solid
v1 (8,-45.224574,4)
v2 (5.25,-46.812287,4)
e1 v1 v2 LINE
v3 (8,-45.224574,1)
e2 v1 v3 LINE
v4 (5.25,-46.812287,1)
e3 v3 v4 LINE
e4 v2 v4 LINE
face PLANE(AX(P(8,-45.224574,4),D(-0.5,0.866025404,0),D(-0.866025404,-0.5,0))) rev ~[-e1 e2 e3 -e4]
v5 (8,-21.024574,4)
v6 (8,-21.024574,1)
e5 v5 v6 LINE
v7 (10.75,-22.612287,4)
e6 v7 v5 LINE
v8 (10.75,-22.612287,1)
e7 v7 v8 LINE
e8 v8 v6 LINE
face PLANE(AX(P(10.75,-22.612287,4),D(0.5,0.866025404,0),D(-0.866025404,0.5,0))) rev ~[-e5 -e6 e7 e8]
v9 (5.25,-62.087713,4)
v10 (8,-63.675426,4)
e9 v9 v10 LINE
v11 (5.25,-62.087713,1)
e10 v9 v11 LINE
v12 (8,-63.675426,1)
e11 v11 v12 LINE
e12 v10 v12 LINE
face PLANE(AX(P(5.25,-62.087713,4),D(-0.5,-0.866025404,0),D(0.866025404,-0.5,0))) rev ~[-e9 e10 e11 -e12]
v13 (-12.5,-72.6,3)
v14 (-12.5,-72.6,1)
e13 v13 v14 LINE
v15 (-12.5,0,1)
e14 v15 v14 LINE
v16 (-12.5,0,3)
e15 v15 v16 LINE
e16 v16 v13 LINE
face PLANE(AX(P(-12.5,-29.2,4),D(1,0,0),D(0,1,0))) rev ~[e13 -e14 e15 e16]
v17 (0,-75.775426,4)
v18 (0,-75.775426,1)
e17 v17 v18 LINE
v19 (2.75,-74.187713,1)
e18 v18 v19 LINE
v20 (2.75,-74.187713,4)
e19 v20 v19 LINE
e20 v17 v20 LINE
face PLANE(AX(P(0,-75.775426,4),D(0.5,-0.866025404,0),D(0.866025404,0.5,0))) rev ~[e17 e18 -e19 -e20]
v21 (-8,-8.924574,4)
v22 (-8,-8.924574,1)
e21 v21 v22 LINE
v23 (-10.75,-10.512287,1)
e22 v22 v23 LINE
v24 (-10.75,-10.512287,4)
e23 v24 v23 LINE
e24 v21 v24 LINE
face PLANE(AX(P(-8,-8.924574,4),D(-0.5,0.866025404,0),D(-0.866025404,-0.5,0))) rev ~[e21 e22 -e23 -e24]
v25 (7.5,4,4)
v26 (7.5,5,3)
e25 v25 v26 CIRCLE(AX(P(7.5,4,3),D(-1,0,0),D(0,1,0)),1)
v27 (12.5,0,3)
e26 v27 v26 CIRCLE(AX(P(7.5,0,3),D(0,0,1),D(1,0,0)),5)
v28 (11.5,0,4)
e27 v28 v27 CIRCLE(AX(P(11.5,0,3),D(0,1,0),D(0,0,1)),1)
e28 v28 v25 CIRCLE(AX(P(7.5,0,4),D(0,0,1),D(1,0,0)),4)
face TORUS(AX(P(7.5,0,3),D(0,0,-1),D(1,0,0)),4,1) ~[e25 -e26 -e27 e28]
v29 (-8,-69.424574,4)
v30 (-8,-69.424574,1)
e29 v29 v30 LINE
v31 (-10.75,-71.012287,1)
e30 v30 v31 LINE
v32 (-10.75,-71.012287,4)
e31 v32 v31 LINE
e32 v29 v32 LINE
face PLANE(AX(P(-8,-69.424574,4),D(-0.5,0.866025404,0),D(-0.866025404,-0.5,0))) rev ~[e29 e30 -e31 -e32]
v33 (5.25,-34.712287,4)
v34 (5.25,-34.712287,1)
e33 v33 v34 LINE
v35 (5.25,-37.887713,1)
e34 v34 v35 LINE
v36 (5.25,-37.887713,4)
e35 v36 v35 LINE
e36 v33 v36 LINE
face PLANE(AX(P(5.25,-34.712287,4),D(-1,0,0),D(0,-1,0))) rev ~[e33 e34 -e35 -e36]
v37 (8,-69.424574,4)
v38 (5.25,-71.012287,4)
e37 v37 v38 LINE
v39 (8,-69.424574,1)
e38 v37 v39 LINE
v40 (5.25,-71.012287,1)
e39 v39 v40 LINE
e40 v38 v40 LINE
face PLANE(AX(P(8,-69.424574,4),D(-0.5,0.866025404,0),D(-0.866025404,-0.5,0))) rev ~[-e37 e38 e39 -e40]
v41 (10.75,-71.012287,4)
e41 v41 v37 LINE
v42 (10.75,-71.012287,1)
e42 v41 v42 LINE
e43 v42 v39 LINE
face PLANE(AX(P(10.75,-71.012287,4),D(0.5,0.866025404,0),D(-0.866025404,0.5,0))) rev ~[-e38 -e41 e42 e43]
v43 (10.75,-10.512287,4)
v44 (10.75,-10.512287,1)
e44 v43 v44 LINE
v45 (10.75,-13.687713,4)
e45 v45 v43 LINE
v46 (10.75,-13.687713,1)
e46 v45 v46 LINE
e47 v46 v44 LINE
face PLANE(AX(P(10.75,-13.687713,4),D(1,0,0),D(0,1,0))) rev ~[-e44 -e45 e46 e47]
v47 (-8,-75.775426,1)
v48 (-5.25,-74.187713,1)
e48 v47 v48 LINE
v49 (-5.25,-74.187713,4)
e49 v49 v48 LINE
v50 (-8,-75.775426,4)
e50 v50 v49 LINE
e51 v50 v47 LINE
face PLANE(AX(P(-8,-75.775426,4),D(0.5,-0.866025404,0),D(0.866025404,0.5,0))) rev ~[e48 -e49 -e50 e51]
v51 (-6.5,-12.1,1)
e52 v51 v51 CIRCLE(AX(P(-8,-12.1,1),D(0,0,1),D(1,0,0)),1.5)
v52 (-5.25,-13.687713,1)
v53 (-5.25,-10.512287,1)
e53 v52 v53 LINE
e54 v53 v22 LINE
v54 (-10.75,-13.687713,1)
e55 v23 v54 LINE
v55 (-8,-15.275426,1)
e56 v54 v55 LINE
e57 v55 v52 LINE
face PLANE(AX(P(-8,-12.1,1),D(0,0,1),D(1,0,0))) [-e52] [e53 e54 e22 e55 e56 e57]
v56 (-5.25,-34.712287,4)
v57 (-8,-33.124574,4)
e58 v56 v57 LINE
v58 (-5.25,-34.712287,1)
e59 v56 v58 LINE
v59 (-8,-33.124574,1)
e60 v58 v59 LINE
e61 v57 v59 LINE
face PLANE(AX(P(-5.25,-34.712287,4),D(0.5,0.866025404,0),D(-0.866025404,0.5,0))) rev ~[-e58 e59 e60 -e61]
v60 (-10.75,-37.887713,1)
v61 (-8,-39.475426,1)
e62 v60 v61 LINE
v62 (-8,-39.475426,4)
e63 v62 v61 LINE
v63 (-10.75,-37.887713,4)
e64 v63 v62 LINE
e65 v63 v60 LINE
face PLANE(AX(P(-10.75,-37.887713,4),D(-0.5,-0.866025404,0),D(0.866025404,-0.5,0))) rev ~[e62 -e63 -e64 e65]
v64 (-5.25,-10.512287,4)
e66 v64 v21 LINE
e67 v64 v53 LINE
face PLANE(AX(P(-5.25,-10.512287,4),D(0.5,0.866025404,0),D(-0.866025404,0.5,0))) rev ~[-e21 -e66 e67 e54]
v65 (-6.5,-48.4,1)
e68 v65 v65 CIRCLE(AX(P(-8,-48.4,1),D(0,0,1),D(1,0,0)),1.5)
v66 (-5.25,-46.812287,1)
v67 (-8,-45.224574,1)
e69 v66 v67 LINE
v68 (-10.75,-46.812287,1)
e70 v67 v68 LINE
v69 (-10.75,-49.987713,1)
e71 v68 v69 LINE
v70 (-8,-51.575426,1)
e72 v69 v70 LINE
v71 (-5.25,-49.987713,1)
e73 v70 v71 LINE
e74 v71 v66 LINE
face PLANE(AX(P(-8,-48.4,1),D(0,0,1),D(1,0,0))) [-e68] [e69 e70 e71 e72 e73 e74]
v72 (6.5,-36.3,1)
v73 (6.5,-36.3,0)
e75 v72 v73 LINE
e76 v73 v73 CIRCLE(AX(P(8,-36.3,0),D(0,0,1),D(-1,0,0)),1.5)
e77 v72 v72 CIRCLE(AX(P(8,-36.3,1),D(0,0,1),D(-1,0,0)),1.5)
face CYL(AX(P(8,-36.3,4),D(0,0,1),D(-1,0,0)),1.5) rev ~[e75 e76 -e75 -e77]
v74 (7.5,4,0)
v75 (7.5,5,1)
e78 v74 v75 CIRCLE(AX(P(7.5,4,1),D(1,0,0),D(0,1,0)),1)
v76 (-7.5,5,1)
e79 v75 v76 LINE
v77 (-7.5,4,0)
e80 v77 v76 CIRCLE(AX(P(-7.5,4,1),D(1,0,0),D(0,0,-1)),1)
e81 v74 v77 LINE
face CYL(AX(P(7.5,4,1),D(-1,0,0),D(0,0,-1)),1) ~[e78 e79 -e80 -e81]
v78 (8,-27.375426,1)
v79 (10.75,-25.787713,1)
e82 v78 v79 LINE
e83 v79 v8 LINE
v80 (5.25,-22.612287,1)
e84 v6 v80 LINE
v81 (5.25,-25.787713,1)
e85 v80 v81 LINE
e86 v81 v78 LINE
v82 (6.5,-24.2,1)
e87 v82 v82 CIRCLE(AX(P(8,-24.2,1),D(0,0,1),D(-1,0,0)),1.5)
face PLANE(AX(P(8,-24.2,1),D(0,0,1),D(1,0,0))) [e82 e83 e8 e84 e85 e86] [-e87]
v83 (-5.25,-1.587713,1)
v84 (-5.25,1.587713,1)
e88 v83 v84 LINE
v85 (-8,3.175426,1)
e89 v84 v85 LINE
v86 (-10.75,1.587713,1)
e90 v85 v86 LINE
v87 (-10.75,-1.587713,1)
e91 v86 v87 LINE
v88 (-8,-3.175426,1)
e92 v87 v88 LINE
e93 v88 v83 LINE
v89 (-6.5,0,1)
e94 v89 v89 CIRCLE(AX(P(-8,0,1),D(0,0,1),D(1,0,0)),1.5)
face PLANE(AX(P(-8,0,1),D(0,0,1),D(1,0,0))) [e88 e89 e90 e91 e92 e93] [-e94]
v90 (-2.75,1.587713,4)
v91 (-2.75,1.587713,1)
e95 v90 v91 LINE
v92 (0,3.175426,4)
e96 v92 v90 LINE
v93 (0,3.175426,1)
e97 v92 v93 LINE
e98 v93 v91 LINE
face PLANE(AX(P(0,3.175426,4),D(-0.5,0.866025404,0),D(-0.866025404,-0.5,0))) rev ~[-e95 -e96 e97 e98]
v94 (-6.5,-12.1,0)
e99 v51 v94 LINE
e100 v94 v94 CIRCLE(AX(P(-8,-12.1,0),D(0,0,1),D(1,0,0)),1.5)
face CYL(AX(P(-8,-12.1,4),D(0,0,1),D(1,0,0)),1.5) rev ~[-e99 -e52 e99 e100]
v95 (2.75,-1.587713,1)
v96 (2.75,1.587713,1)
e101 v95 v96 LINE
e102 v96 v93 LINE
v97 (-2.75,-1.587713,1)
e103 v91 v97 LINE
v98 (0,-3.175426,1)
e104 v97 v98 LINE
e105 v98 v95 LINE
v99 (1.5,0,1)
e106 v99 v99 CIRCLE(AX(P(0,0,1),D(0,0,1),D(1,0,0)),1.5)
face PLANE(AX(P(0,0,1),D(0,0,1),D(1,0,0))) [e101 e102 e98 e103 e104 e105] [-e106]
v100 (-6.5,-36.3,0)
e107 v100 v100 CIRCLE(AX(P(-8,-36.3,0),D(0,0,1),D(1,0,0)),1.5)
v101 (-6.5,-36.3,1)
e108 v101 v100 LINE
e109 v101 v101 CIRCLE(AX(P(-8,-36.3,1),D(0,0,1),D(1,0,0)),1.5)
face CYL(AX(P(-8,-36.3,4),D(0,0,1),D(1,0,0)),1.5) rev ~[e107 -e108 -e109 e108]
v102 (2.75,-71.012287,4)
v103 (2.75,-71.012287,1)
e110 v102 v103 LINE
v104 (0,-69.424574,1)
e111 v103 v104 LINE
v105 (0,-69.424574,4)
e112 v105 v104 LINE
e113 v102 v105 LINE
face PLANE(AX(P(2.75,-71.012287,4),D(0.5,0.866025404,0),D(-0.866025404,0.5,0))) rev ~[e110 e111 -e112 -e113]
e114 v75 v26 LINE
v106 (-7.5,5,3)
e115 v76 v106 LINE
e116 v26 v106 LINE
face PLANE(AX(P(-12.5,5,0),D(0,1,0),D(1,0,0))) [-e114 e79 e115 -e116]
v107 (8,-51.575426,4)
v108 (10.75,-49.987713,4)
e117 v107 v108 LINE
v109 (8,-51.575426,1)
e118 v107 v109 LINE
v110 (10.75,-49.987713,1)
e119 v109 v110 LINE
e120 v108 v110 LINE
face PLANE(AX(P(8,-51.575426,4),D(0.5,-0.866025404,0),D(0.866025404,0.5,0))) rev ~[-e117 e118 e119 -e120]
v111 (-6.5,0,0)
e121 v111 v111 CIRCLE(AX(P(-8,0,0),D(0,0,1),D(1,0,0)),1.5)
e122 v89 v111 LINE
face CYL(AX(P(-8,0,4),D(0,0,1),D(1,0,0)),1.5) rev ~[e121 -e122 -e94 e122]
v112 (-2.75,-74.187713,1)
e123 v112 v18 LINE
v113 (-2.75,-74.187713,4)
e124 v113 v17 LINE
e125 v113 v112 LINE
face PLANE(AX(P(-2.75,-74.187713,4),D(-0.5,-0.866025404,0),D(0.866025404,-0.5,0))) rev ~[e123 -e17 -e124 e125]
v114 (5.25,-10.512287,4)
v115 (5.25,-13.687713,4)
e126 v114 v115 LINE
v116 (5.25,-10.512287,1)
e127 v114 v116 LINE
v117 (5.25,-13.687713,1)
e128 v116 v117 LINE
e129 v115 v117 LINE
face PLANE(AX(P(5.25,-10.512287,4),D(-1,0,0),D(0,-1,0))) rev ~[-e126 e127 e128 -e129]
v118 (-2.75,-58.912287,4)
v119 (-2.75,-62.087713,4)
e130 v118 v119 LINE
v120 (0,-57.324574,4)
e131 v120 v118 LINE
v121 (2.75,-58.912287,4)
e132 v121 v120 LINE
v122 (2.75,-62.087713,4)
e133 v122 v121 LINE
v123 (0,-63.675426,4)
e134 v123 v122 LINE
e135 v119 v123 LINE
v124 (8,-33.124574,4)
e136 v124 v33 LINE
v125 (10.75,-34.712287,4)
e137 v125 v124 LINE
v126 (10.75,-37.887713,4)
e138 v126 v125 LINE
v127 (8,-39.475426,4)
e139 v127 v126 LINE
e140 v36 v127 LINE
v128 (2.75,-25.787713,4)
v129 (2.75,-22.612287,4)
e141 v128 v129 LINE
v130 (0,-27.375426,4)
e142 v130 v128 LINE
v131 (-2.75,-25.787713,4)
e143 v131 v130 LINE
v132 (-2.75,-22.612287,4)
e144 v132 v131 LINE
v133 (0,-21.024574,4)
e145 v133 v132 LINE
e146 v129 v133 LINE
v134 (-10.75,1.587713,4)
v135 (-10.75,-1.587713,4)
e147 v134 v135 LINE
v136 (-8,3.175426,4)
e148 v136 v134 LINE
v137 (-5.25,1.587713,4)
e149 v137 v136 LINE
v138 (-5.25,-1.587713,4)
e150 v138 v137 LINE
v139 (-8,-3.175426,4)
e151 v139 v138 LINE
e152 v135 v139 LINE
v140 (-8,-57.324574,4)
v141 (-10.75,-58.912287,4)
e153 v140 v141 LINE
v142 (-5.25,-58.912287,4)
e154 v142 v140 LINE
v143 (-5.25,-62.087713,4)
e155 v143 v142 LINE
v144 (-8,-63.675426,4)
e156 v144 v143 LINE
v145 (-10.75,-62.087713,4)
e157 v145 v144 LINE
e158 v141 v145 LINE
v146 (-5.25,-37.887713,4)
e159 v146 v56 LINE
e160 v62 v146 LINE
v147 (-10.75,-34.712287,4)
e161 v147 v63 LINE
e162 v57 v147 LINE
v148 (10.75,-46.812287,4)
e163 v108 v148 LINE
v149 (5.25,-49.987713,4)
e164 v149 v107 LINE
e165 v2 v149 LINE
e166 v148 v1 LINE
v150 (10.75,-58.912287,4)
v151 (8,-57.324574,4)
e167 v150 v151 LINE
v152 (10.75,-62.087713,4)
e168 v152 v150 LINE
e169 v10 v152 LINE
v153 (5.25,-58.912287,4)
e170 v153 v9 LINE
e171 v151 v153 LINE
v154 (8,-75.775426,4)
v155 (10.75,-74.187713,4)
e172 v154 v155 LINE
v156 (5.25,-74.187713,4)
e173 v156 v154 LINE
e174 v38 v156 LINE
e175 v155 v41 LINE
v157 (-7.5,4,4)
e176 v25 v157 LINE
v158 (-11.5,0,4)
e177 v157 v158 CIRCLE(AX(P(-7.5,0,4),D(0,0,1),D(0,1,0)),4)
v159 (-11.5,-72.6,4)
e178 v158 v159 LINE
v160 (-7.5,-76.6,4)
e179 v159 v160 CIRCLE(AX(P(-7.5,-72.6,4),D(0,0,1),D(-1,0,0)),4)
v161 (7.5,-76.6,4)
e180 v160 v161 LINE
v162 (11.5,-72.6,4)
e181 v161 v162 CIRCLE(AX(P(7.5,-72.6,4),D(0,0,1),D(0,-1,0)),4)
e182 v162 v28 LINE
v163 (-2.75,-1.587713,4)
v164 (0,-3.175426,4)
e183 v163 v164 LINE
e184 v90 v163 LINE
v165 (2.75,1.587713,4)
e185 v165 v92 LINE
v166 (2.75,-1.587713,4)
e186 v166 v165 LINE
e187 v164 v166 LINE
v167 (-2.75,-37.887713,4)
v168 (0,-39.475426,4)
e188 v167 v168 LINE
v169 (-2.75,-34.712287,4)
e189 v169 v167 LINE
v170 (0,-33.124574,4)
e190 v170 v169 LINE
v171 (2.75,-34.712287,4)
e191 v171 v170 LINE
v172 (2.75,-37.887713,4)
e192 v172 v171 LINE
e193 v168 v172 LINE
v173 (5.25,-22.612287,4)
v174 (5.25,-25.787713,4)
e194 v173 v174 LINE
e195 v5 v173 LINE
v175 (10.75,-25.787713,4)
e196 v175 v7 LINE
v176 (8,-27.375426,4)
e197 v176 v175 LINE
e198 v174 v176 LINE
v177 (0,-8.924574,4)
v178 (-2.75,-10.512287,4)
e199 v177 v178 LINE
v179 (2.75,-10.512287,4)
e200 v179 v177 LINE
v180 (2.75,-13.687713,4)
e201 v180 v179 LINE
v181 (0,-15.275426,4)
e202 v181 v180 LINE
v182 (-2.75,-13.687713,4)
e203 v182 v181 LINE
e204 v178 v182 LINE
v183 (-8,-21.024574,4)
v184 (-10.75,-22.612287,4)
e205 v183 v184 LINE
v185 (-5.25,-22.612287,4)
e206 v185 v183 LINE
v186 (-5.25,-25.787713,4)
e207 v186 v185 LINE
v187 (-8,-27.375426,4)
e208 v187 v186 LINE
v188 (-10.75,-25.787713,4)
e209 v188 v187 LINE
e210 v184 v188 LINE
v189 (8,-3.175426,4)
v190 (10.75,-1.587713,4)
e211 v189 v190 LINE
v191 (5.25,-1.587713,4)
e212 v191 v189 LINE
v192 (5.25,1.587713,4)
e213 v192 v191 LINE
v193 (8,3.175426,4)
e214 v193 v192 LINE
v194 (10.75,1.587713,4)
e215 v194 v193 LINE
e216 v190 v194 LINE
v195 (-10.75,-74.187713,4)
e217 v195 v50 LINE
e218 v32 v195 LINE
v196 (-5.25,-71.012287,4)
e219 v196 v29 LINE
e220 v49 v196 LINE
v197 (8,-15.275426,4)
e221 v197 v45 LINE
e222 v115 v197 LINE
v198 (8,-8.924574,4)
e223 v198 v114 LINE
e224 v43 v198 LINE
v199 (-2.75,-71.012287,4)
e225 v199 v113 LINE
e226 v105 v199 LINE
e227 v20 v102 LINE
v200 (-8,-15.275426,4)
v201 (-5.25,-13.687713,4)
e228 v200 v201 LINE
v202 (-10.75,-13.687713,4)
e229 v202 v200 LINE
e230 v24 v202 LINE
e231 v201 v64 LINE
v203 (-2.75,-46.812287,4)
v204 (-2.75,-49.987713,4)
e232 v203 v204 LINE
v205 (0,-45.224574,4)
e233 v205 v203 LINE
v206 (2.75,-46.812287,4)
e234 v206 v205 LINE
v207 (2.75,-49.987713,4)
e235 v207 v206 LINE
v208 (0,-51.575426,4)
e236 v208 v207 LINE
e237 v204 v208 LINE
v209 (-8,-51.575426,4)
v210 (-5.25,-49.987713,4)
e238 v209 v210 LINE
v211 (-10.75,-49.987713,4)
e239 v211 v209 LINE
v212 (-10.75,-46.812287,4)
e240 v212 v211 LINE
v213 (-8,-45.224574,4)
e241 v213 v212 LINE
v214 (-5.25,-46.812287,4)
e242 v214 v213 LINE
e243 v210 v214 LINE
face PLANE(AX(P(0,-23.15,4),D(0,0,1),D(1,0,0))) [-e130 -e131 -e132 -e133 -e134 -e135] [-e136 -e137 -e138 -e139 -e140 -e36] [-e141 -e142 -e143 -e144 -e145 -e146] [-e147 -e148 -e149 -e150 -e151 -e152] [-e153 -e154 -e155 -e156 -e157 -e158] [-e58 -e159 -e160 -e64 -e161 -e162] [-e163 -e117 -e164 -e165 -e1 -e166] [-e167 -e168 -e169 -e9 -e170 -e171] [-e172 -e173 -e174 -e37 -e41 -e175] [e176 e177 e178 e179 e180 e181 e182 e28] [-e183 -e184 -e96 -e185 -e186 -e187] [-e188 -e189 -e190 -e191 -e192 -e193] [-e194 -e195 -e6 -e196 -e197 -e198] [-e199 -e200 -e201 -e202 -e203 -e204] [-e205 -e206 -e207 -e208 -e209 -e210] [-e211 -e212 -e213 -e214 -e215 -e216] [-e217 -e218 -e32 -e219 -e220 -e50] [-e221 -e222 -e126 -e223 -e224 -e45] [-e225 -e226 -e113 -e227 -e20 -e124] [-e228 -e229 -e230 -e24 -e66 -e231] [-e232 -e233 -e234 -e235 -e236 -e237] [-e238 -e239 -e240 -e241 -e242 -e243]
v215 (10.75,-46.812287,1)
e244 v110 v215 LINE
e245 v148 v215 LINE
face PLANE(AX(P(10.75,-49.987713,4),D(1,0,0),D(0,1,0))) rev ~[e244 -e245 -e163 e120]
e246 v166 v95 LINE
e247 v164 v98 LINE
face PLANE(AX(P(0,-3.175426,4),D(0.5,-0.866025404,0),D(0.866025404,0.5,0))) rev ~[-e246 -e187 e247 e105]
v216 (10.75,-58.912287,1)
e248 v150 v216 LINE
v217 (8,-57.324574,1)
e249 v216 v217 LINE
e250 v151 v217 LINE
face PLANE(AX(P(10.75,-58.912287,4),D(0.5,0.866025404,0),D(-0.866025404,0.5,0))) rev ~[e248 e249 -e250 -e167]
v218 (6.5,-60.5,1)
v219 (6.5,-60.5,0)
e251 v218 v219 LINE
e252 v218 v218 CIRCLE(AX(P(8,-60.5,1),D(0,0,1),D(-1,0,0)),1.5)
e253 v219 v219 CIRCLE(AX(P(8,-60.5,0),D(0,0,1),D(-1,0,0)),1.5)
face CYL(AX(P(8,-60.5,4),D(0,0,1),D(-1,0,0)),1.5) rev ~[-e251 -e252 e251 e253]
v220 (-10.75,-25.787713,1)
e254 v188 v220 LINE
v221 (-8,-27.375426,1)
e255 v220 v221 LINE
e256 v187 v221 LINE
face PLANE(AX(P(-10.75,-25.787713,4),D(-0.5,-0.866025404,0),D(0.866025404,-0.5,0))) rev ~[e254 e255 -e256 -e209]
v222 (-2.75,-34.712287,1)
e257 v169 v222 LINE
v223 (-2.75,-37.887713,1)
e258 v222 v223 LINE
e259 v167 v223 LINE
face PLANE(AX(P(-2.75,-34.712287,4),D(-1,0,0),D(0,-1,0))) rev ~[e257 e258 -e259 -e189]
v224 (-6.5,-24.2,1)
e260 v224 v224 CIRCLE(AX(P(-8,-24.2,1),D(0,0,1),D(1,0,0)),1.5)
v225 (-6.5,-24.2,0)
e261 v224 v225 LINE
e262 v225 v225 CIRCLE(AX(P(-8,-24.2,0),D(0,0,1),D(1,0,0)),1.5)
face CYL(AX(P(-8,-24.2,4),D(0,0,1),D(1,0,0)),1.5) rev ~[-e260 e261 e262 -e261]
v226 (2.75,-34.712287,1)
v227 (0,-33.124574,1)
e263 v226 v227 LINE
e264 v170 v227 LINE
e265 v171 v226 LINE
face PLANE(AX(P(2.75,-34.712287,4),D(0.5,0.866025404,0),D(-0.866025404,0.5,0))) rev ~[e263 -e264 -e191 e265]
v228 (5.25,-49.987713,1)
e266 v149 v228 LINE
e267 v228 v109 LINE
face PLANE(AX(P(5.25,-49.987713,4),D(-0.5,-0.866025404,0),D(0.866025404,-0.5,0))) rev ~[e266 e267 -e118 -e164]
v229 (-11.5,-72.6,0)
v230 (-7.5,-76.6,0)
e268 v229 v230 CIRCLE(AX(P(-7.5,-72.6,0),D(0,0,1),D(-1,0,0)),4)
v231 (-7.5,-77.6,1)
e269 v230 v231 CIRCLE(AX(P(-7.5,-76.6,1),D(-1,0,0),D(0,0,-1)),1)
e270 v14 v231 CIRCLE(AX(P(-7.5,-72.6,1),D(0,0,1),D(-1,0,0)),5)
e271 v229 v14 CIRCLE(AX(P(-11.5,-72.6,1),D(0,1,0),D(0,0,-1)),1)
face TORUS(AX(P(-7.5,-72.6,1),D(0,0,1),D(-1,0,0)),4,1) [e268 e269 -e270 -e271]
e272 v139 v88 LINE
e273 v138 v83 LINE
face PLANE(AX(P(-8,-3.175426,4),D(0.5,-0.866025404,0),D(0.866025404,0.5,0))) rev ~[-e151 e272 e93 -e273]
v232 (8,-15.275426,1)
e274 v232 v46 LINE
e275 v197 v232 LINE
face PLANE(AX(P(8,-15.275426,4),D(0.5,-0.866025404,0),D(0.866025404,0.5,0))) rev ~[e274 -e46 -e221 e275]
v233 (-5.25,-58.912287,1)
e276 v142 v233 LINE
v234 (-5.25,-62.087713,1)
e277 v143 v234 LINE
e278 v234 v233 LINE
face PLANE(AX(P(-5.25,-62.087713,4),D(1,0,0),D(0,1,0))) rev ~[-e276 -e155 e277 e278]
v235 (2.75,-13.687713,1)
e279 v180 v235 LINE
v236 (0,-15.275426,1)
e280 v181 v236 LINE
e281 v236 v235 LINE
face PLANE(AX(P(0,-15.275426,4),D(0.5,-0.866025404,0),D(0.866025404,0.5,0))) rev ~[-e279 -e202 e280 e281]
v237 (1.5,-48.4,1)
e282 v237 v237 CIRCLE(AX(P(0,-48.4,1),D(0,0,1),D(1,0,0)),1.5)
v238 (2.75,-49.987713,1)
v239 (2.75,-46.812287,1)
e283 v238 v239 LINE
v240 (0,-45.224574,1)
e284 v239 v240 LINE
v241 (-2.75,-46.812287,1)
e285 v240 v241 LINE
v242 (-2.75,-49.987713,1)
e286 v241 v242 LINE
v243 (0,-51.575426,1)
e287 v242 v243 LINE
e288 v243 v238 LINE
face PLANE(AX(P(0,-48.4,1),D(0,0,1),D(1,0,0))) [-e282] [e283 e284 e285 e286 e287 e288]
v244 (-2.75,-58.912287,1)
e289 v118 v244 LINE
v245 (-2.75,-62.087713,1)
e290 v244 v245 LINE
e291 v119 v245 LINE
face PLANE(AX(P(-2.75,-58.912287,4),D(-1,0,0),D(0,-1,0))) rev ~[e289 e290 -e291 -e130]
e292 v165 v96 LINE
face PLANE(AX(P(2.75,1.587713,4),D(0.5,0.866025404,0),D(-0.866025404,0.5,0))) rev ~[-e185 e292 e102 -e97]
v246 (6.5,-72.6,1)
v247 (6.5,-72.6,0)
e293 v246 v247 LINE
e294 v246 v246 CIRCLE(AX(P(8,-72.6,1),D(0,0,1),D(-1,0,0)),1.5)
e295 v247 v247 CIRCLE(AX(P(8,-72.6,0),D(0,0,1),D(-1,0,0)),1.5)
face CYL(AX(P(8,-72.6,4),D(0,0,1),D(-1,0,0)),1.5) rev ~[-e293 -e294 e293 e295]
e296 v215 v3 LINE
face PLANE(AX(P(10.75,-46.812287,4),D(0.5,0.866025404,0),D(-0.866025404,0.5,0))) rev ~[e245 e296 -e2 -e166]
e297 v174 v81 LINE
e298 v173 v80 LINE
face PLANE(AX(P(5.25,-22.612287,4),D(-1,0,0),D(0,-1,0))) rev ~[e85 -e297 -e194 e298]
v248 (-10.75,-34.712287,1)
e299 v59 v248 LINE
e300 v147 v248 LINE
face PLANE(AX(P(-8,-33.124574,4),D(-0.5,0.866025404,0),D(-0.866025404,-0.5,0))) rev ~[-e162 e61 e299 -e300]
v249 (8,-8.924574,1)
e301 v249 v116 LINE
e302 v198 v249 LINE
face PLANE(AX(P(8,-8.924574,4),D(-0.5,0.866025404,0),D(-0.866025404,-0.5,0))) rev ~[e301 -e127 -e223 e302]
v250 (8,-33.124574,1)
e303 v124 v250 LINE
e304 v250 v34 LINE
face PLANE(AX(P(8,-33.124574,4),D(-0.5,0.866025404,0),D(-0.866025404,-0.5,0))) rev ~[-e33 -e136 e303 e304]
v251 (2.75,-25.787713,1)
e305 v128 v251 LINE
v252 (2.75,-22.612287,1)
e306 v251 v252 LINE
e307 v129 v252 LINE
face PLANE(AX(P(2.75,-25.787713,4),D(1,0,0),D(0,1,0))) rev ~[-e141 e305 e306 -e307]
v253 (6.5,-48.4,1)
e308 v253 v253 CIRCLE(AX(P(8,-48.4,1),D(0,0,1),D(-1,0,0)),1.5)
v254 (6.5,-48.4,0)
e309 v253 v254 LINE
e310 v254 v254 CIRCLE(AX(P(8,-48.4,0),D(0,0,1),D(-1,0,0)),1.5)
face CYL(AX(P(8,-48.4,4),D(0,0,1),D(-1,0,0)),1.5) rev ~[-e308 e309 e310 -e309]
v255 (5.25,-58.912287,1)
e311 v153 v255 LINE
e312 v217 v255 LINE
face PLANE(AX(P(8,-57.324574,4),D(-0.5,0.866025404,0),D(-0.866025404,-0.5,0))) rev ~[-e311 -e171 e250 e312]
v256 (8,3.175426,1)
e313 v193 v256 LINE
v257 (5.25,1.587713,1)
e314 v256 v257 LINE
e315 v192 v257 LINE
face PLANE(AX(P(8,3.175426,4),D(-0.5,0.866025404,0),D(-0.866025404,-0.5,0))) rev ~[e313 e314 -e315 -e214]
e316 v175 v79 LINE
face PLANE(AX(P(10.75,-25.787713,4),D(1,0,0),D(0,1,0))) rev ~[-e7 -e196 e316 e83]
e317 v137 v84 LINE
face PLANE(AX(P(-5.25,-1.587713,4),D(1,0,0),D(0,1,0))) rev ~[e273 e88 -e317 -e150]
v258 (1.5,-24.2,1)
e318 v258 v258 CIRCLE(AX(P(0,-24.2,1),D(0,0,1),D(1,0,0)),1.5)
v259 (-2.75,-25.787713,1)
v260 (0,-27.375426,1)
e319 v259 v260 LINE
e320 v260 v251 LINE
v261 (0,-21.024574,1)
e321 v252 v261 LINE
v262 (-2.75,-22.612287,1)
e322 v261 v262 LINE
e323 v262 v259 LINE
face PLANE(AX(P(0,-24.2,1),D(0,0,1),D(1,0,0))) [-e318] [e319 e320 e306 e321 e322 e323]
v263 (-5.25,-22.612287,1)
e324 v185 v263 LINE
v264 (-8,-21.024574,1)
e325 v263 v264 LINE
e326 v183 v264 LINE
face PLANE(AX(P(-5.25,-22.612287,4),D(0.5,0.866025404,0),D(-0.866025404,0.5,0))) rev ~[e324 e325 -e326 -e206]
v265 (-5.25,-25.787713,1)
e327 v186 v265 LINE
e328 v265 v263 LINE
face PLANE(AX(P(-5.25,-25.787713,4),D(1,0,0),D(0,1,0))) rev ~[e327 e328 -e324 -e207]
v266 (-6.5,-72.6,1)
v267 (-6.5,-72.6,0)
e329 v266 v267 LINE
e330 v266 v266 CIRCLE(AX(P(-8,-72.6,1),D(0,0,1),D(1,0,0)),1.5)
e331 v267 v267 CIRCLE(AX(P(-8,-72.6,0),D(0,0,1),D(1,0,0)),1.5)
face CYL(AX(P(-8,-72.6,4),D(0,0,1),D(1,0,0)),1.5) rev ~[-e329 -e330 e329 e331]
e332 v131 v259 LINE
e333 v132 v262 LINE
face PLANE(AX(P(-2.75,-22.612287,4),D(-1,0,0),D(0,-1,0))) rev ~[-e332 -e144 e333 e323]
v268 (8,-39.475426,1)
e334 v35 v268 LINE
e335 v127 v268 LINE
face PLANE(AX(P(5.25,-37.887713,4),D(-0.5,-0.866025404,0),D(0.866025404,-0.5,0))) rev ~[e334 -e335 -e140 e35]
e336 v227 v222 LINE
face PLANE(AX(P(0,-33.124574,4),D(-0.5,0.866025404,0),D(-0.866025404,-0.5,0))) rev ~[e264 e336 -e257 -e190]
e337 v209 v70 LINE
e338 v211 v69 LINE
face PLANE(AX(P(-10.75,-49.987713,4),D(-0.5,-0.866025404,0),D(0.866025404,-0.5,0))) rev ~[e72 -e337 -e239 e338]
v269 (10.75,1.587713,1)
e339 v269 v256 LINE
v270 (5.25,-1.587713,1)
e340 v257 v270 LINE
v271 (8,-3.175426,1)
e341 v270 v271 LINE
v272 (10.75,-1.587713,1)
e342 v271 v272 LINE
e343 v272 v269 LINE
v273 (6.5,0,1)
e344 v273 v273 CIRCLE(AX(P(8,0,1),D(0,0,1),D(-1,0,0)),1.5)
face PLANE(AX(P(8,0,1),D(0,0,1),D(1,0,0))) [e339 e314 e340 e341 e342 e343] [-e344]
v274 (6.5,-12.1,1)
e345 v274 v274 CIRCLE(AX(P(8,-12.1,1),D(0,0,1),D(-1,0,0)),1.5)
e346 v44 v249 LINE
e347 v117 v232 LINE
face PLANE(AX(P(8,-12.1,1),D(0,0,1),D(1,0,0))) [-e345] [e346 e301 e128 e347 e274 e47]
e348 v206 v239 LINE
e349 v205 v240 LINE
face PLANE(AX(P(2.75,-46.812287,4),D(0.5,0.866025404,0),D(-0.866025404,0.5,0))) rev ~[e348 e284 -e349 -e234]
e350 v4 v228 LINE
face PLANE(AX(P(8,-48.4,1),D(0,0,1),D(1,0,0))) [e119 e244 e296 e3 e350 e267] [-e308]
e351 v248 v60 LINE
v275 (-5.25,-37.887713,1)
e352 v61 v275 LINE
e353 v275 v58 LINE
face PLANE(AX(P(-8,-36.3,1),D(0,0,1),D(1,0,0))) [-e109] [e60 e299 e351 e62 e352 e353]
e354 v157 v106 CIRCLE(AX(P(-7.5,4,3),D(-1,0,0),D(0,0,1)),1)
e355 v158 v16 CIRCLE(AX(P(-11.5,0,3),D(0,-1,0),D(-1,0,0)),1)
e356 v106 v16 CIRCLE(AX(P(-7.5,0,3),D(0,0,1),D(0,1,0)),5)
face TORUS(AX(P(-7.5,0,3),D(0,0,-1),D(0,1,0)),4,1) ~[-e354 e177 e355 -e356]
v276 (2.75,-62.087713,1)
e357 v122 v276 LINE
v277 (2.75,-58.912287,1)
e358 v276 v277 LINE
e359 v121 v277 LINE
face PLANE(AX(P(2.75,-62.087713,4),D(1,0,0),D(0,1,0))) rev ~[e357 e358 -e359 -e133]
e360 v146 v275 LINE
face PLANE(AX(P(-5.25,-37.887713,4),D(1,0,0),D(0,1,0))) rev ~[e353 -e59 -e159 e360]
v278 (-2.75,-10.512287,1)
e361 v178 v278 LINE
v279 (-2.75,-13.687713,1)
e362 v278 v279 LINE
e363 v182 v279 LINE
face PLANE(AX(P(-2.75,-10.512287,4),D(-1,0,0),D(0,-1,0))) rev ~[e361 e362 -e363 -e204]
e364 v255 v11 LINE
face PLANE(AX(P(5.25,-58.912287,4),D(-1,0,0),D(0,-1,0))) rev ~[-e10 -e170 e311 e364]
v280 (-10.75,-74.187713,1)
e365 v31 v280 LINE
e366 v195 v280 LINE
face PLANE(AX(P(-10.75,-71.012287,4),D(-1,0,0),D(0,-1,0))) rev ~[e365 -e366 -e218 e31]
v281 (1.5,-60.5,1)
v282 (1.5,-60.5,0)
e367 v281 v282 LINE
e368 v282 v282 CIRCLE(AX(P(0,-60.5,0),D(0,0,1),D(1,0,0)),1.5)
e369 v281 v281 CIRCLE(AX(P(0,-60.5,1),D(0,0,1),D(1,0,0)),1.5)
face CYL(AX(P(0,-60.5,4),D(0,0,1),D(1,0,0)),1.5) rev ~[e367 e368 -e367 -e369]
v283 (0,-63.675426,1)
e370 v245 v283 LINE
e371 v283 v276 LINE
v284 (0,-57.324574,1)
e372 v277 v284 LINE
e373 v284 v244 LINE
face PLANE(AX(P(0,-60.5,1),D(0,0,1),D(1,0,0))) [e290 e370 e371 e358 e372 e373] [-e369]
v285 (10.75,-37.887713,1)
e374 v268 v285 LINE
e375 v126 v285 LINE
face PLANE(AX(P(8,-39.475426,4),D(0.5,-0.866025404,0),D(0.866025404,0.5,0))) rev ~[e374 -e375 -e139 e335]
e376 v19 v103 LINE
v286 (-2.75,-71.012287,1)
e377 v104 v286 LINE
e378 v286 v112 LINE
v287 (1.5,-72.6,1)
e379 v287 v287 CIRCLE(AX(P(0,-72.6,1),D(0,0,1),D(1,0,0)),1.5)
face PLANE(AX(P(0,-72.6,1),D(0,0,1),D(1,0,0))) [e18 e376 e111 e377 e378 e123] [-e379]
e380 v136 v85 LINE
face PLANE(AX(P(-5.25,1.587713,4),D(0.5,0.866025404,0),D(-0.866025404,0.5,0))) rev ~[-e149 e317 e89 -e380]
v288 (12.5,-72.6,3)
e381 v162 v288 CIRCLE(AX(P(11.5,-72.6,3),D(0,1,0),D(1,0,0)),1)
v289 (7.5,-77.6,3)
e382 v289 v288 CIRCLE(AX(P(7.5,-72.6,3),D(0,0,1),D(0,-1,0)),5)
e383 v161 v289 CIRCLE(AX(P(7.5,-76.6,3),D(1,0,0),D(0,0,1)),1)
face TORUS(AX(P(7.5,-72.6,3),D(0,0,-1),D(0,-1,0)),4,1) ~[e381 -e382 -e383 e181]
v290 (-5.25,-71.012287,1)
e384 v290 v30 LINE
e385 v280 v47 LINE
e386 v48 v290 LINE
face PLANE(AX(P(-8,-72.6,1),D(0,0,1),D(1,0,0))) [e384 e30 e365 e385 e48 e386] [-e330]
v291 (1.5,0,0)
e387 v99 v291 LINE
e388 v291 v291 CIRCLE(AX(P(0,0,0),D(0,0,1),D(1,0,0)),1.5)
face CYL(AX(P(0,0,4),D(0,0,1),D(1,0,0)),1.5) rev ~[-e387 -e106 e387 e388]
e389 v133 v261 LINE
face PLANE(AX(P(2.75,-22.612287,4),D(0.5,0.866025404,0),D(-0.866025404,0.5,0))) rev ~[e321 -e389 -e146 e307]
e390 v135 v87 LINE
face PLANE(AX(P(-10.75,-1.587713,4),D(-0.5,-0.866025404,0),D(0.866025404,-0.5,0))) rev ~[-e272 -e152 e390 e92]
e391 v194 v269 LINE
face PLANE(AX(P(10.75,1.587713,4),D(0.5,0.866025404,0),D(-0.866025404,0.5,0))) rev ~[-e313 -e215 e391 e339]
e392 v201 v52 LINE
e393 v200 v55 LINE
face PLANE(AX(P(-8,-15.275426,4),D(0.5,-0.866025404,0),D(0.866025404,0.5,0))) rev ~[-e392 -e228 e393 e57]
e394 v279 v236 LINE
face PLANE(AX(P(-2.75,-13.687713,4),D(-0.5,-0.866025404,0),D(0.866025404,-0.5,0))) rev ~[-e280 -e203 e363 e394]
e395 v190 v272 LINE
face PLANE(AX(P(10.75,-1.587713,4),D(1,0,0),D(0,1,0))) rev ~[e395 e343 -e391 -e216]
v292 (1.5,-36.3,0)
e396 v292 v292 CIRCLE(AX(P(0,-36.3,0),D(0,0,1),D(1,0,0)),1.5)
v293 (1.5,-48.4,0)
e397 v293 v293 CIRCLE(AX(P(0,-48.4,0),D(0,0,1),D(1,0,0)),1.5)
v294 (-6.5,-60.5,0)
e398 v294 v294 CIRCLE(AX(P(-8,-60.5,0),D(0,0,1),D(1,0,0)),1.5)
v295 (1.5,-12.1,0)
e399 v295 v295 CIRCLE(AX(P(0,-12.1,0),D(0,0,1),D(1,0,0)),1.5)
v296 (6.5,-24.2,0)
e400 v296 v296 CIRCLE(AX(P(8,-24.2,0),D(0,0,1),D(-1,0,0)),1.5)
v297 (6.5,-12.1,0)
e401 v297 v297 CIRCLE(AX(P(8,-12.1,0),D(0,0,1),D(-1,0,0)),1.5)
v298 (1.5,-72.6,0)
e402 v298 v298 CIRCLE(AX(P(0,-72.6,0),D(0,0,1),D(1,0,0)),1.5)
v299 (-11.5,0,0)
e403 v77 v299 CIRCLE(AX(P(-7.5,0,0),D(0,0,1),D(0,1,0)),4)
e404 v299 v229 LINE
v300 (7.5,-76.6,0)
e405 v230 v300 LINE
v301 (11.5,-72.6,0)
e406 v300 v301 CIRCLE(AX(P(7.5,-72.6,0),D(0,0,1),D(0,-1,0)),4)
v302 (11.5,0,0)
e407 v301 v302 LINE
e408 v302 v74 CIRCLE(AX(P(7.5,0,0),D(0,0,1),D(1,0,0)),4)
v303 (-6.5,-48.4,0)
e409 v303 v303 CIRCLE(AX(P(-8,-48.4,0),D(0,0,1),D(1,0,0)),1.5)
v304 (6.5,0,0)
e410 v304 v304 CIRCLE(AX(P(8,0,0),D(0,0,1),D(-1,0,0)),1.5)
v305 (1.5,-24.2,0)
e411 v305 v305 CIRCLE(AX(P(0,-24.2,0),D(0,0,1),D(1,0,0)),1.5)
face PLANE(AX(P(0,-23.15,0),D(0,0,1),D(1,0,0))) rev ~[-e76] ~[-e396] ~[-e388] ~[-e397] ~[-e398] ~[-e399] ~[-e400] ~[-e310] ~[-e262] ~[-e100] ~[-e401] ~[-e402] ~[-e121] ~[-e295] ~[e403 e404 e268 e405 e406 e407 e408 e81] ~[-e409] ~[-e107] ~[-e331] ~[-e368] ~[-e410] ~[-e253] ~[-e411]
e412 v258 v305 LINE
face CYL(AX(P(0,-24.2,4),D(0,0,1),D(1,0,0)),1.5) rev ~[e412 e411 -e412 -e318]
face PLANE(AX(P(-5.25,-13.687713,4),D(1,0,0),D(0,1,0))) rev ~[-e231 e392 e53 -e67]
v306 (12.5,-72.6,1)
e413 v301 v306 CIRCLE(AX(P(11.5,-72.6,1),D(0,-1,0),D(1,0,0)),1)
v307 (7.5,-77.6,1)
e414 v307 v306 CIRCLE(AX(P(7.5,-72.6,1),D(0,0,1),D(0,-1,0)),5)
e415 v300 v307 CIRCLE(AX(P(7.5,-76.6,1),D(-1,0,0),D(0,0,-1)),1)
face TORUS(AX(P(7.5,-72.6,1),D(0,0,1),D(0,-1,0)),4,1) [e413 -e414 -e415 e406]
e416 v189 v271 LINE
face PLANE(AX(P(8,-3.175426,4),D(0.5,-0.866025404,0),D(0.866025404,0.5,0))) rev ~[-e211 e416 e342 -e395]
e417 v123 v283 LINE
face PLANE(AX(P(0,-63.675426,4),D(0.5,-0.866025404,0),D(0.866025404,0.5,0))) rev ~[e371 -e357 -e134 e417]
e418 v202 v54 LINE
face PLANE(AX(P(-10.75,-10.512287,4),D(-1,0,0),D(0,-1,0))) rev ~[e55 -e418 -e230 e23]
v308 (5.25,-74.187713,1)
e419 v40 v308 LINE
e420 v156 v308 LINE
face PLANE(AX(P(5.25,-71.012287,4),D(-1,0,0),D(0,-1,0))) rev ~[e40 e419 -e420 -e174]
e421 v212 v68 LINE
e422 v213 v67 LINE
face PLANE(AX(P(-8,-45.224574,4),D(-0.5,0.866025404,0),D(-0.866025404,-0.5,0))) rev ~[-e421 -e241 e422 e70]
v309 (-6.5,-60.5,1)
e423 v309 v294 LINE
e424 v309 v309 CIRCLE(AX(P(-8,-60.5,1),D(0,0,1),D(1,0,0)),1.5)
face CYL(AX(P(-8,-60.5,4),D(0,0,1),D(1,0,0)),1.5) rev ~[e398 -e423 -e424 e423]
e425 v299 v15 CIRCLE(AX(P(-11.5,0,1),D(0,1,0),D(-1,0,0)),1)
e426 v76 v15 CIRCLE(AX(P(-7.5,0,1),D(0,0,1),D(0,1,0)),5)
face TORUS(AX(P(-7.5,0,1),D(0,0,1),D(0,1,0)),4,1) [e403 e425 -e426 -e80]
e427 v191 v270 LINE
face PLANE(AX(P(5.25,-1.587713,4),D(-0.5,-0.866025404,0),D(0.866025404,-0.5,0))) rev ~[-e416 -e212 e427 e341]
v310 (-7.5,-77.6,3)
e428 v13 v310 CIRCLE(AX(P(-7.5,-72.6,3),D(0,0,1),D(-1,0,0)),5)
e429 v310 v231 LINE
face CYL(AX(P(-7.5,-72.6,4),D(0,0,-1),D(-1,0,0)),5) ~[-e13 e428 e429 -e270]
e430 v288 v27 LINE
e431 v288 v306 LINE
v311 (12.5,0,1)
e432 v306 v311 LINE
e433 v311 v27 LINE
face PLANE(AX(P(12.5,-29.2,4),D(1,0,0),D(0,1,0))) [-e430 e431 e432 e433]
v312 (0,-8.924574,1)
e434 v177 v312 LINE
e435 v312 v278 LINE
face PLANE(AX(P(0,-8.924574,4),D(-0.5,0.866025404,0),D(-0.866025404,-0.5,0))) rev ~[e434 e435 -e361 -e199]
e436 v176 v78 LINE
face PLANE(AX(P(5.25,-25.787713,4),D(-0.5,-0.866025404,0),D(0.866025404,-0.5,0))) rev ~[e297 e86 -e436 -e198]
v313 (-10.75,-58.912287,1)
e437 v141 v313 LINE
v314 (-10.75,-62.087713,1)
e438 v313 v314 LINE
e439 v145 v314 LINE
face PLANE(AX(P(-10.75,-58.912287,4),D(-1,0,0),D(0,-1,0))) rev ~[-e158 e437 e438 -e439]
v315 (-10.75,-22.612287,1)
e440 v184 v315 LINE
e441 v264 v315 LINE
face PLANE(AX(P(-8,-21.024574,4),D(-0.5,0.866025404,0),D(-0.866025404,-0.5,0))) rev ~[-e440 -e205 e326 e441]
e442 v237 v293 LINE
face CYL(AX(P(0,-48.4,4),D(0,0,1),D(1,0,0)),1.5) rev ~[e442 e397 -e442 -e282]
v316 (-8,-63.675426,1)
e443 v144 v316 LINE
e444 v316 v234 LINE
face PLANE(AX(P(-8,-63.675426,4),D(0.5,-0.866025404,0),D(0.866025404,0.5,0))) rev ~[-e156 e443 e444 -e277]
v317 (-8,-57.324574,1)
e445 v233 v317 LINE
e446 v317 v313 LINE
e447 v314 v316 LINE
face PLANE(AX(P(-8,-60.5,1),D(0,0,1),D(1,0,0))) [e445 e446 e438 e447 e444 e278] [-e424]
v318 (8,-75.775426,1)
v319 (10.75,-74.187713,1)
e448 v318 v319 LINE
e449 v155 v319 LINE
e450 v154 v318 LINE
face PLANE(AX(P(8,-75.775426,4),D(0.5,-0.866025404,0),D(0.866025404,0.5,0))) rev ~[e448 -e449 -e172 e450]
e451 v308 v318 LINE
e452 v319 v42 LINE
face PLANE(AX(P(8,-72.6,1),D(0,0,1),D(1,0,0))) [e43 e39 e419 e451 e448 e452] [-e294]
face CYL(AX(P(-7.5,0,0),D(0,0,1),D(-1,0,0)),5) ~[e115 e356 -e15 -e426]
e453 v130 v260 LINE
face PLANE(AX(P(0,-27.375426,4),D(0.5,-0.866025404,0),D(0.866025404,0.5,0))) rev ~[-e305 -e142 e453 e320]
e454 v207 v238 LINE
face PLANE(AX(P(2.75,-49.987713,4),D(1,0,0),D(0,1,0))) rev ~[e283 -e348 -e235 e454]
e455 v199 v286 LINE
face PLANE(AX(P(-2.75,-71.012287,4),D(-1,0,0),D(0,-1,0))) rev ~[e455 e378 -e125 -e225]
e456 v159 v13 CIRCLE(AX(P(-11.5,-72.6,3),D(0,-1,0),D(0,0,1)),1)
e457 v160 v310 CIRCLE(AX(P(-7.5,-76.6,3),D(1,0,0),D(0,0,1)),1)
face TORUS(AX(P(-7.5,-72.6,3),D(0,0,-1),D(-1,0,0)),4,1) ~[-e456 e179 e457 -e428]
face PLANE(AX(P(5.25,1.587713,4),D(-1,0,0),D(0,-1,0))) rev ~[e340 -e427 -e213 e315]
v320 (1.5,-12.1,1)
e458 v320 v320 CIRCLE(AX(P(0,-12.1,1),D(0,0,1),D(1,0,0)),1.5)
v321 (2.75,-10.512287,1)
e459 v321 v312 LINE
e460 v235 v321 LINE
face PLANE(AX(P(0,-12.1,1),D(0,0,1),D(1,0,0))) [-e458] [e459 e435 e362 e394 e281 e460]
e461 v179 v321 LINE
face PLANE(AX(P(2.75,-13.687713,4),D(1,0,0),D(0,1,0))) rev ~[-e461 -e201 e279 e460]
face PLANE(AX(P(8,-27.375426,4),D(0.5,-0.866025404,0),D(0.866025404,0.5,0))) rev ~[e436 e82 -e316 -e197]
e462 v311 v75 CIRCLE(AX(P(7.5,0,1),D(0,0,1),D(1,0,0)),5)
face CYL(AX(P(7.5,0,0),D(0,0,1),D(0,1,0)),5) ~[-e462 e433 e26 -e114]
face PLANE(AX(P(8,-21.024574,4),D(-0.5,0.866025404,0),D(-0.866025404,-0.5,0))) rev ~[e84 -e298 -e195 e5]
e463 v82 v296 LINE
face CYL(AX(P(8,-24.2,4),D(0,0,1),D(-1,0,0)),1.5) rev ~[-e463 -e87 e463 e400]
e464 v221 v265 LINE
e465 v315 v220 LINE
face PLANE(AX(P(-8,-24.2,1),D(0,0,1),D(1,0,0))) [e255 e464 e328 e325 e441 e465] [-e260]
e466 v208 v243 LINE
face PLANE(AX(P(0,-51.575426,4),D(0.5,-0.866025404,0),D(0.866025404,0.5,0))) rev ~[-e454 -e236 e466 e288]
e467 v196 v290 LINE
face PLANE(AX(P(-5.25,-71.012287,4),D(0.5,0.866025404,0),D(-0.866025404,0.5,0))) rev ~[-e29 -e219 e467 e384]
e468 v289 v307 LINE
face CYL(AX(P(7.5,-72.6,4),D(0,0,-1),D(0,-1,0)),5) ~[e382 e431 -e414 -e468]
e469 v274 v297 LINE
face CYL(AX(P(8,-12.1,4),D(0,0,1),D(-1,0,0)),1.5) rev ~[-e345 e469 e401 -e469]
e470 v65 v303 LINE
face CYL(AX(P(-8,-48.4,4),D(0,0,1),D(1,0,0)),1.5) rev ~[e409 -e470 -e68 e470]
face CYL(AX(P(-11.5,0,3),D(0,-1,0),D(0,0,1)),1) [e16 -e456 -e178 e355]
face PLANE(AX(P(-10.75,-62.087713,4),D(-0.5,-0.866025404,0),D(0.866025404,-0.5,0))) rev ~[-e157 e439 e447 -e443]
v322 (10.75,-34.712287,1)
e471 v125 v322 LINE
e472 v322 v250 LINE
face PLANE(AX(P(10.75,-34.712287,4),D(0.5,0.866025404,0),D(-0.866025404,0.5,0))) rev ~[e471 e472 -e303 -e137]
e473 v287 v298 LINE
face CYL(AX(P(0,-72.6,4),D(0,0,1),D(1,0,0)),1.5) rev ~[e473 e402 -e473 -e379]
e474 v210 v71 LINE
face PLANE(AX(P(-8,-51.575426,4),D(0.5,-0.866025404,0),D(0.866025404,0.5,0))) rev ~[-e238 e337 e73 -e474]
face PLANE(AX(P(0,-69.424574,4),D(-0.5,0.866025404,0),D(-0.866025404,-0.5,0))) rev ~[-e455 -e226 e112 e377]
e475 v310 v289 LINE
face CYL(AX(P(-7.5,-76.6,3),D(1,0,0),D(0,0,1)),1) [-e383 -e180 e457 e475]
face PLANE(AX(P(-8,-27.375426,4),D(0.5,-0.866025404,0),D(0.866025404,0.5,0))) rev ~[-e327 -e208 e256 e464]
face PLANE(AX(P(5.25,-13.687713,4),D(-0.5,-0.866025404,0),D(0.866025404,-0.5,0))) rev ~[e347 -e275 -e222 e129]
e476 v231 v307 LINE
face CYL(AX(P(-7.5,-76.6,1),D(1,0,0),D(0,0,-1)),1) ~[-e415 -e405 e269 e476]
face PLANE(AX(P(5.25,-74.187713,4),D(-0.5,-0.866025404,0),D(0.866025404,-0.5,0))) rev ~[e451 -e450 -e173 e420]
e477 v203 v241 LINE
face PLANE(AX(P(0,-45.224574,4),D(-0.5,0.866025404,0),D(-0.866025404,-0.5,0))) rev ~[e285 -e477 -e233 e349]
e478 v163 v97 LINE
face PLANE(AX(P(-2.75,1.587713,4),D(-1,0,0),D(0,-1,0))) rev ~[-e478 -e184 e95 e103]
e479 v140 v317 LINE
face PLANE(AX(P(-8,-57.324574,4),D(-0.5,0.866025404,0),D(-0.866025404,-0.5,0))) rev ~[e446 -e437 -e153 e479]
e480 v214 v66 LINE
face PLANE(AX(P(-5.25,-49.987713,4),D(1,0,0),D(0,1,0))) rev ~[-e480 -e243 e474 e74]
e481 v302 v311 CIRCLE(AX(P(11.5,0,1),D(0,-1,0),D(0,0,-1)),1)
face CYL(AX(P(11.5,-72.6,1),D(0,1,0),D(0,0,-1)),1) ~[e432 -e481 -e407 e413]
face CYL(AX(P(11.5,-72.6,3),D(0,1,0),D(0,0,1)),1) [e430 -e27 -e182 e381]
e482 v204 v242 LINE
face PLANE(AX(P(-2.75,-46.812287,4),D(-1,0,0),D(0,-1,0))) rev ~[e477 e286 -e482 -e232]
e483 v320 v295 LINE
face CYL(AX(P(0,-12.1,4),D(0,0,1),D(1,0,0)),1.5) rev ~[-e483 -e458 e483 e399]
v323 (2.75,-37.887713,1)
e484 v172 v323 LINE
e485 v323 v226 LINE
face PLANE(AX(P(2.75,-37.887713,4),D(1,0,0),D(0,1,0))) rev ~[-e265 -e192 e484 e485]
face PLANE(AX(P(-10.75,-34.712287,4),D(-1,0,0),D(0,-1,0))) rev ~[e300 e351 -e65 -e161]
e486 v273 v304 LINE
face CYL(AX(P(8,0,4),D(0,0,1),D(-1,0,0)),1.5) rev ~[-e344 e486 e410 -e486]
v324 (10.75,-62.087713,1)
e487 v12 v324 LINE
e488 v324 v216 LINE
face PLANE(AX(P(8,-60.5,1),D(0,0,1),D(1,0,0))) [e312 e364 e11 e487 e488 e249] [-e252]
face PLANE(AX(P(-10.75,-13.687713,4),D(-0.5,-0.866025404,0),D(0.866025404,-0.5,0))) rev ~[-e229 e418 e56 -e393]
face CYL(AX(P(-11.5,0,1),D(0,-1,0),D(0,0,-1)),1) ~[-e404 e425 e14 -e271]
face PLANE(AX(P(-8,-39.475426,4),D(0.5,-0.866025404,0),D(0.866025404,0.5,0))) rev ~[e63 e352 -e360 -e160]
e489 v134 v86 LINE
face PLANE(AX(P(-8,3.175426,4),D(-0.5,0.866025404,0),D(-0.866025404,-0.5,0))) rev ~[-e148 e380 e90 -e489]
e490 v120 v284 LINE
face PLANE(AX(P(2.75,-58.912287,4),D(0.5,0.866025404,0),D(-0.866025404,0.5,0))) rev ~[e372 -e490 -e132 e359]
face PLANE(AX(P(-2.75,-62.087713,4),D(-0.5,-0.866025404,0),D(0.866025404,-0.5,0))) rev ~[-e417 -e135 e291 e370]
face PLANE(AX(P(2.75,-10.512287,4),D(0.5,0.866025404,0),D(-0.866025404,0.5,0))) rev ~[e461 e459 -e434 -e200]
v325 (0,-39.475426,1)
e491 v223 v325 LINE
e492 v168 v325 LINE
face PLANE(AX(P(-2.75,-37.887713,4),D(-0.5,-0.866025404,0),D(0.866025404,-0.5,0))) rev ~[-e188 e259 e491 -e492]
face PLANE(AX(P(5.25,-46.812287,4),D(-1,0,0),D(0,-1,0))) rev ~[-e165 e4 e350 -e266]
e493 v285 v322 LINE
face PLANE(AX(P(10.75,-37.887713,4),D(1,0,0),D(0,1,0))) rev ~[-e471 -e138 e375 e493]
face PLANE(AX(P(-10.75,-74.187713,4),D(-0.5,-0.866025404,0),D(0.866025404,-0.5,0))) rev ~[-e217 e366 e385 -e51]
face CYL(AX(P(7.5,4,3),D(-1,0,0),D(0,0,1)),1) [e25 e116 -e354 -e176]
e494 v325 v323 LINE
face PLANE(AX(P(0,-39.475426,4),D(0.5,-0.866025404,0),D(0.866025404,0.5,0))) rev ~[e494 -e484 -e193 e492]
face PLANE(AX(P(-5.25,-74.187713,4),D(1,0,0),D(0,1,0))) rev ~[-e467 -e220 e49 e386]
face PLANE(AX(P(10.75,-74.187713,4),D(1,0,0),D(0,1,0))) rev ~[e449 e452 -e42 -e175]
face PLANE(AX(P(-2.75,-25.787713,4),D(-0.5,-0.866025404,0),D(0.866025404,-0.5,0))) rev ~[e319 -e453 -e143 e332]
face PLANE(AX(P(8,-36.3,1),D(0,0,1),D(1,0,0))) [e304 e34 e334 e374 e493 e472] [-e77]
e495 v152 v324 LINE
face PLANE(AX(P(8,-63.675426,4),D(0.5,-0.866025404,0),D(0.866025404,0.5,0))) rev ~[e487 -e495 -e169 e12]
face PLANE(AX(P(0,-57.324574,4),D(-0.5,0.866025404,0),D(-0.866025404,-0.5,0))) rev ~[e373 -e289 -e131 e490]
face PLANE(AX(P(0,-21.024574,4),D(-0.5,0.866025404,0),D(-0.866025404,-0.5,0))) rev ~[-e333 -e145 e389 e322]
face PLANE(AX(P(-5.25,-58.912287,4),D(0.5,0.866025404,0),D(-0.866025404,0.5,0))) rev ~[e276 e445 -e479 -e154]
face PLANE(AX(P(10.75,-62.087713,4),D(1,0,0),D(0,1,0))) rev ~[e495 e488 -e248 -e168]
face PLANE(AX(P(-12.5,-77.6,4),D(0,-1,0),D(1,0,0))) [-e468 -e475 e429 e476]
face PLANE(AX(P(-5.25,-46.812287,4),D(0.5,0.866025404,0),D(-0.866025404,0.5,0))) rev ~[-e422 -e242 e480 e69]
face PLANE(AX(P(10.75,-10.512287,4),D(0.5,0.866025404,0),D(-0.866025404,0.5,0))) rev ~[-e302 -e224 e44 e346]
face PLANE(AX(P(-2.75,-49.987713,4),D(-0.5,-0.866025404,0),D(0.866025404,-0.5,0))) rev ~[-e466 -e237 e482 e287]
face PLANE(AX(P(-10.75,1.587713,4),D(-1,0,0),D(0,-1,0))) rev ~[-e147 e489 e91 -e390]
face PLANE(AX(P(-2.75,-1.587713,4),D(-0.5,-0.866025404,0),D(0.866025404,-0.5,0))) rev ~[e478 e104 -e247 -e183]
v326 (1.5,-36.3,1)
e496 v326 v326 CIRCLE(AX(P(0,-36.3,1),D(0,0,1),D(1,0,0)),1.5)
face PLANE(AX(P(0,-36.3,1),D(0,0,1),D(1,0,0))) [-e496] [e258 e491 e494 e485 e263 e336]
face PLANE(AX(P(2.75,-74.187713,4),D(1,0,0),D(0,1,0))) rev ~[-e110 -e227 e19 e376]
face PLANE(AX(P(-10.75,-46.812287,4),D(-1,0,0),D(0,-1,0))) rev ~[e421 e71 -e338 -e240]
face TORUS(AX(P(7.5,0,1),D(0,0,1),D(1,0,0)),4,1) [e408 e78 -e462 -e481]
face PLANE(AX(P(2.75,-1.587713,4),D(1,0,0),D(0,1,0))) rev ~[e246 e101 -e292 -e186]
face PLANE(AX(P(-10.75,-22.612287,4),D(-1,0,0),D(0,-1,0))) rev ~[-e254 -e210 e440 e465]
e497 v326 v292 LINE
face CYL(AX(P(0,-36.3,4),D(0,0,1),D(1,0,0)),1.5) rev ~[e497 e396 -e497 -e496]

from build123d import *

# Parameters (mm, degrees)
SKETCH_1_W             = 25
SKETCH_1_H             = 10
EXTRUDE_1_DEPTH        = 4
SKETCH_2_R             = 1.5
CUT_EXTRUDE_1_DEPTH    = 15.044571905
CUT_EXTRUDE_2_DEPTH    = 3
SKETCH_4_W             = 25
SKETCH_4_H             = 12.1
EXTRUDE_2_DEPTH        = 4
SKETCH_5_R             = 1.5
CUT_EXTRUDE_3_DEPTH    = 22.55597365
CUT_EXTRUDE_4_DEPTH    = 3
PATTERN_LINEAR_1_COUNT = 6
PATTERN_LINEAR_1_PITCH = 12.1
FILLET_1_R             = 5
FILLET_2_R             = 1


with BuildPart() as part:
    # 草图1 → 凸台-拉伸1 (new body)
    with BuildSketch(Plane.XY):
        Rectangle(SKETCH_1_W, SKETCH_1_H)
    extrude(amount=EXTRUDE_1_DEPTH)

    # 草图2 → 切除-拉伸1 (cut, through all)
    with BuildSketch(Plane.XY.offset(4)):
        Circle(SKETCH_2_R)
        with Locations((-8, 0)):
            Circle(SKETCH_2_R)
        with Locations(Location((8, 0, 0), (0, 0, 180))):
            Circle(SKETCH_2_R)
    extrude(amount=-CUT_EXTRUDE_1_DEPTH, mode=Mode.SUBTRACT)

    # 草图3 → 切除-拉伸2 (cut)
    with BuildSketch(Plane.XY.offset(4)):
        Polygon((-8, 3.175426481), (-10.75, 1.58771324), (-10.75, -1.58771324), (-8, -3.175426481), (-5.25, -1.58771324), (-5.25, 1.58771324), align=None)
        Polygon((0, 3.175426481), (-2.75, 1.58771324), (-2.75, -1.58771324), (0, -3.175426481), (2.75, -1.58771324), (2.75, 1.58771324), align=None)
        Polygon((8, 3.175426481), (5.25, 1.58771324), (5.25, -1.58771324), (8, -3.175426481), (10.75, -1.58771324), (10.75, 1.58771324), align=None)
    extrude(amount=-CUT_EXTRUDE_2_DEPTH, mode=Mode.SUBTRACT)

    # 草图4 → 凸台-拉伸2 (add)
    with BuildSketch(Plane.XY.offset(4)):
        with Locations((0, -11.05)):
            Rectangle(SKETCH_4_W, SKETCH_4_H)
    extrude_2 = extrude(amount=-EXTRUDE_2_DEPTH)

    # 草图5 → 切除-拉伸3 (cut, through all)
    with BuildSketch(Plane.XY.offset(4)):
        with Locations((0, -12.1)):
            Circle(SKETCH_5_R)
        with Locations((-8, -12.1)):
            Circle(SKETCH_5_R)
        with Locations(Location((8, -12.1, 0), (0, 0, 180))):
            Circle(SKETCH_5_R)
    cut_extrude_3 = extrude(amount=-CUT_EXTRUDE_3_DEPTH, mode=Mode.SUBTRACT)

    # 草图6 → 切除-拉伸4 (cut)
    with BuildSketch(Plane.XY.offset(4)):
        Polygon((-8, -8.924573519), (-10.75, -10.51228676), (-10.75, -13.68771324), (-8, -15.275426481), (-5.25, -13.68771324), (-5.25, -10.51228676), align=None)
        Polygon((0, -8.924573519), (-2.75, -10.51228676), (-2.75, -13.68771324), (0, -15.275426481), (2.75, -13.68771324), (2.75, -10.51228676), align=None)
        Polygon((8, -8.924573519), (5.25, -10.51228676), (5.25, -13.68771324), (8, -15.275426481), (10.75, -13.68771324), (10.75, -10.51228676), align=None)
    cut_extrude_4 = extrude(amount=-CUT_EXTRUDE_4_DEPTH, mode=Mode.SUBTRACT)

    # 阵列(线性)1: 凸台-拉伸2, 切除-拉伸3, 切除-拉伸4 ×6
    with Locations(*[(0, -i * PATTERN_LINEAR_1_PITCH, 0) for i in range(1, PATTERN_LINEAR_1_COUNT)]):
        add(extrude_2)
        add(cut_extrude_3, mode=Mode.SUBTRACT)
        add(cut_extrude_4, mode=Mode.SUBTRACT)

    # 圆角1
    fillet_1_edges = [part.edges().sort_by_distance(p)[0] for p in [
        (-12.5, -77.6, 2),
        (12.5, -77.6, 2),
        (-12.5, 5, 2),
        (12.5, 5, 2),
    ]]
    fillet(fillet_1_edges, radius=FILLET_1_R)

    # 圆角2
    fillet_2_edges = [part.edges().sort_by_distance(p)[0] for p in [
        (0, -77.6, 0),
        (0, -77.6, 4),
        (12.5, -36.3, 4),
        (0, 5, 4),
        (-12.5, -36.3, 4),
        (-11.035533906, -76.135533906, 4),
        (-11.035533906, 3.535533906, 4),
        (11.035533906, 3.535533906, 4),
        (11.035533906, -76.135533906, 4),
        (12.5, -36.3, 0),
        (-12.5, -36.3, 0),
        (0, 5, 0),
        (-11.035533906, -76.135533906, 0),
        (-11.035533906, 3.535533906, 0),
        (11.035533906, 3.535533906, 0),
        (11.035533906, -76.135533906, 0),
    ]]
    fillet(fillet_2_edges, radius=FILLET_2_R)


solid = part.part
